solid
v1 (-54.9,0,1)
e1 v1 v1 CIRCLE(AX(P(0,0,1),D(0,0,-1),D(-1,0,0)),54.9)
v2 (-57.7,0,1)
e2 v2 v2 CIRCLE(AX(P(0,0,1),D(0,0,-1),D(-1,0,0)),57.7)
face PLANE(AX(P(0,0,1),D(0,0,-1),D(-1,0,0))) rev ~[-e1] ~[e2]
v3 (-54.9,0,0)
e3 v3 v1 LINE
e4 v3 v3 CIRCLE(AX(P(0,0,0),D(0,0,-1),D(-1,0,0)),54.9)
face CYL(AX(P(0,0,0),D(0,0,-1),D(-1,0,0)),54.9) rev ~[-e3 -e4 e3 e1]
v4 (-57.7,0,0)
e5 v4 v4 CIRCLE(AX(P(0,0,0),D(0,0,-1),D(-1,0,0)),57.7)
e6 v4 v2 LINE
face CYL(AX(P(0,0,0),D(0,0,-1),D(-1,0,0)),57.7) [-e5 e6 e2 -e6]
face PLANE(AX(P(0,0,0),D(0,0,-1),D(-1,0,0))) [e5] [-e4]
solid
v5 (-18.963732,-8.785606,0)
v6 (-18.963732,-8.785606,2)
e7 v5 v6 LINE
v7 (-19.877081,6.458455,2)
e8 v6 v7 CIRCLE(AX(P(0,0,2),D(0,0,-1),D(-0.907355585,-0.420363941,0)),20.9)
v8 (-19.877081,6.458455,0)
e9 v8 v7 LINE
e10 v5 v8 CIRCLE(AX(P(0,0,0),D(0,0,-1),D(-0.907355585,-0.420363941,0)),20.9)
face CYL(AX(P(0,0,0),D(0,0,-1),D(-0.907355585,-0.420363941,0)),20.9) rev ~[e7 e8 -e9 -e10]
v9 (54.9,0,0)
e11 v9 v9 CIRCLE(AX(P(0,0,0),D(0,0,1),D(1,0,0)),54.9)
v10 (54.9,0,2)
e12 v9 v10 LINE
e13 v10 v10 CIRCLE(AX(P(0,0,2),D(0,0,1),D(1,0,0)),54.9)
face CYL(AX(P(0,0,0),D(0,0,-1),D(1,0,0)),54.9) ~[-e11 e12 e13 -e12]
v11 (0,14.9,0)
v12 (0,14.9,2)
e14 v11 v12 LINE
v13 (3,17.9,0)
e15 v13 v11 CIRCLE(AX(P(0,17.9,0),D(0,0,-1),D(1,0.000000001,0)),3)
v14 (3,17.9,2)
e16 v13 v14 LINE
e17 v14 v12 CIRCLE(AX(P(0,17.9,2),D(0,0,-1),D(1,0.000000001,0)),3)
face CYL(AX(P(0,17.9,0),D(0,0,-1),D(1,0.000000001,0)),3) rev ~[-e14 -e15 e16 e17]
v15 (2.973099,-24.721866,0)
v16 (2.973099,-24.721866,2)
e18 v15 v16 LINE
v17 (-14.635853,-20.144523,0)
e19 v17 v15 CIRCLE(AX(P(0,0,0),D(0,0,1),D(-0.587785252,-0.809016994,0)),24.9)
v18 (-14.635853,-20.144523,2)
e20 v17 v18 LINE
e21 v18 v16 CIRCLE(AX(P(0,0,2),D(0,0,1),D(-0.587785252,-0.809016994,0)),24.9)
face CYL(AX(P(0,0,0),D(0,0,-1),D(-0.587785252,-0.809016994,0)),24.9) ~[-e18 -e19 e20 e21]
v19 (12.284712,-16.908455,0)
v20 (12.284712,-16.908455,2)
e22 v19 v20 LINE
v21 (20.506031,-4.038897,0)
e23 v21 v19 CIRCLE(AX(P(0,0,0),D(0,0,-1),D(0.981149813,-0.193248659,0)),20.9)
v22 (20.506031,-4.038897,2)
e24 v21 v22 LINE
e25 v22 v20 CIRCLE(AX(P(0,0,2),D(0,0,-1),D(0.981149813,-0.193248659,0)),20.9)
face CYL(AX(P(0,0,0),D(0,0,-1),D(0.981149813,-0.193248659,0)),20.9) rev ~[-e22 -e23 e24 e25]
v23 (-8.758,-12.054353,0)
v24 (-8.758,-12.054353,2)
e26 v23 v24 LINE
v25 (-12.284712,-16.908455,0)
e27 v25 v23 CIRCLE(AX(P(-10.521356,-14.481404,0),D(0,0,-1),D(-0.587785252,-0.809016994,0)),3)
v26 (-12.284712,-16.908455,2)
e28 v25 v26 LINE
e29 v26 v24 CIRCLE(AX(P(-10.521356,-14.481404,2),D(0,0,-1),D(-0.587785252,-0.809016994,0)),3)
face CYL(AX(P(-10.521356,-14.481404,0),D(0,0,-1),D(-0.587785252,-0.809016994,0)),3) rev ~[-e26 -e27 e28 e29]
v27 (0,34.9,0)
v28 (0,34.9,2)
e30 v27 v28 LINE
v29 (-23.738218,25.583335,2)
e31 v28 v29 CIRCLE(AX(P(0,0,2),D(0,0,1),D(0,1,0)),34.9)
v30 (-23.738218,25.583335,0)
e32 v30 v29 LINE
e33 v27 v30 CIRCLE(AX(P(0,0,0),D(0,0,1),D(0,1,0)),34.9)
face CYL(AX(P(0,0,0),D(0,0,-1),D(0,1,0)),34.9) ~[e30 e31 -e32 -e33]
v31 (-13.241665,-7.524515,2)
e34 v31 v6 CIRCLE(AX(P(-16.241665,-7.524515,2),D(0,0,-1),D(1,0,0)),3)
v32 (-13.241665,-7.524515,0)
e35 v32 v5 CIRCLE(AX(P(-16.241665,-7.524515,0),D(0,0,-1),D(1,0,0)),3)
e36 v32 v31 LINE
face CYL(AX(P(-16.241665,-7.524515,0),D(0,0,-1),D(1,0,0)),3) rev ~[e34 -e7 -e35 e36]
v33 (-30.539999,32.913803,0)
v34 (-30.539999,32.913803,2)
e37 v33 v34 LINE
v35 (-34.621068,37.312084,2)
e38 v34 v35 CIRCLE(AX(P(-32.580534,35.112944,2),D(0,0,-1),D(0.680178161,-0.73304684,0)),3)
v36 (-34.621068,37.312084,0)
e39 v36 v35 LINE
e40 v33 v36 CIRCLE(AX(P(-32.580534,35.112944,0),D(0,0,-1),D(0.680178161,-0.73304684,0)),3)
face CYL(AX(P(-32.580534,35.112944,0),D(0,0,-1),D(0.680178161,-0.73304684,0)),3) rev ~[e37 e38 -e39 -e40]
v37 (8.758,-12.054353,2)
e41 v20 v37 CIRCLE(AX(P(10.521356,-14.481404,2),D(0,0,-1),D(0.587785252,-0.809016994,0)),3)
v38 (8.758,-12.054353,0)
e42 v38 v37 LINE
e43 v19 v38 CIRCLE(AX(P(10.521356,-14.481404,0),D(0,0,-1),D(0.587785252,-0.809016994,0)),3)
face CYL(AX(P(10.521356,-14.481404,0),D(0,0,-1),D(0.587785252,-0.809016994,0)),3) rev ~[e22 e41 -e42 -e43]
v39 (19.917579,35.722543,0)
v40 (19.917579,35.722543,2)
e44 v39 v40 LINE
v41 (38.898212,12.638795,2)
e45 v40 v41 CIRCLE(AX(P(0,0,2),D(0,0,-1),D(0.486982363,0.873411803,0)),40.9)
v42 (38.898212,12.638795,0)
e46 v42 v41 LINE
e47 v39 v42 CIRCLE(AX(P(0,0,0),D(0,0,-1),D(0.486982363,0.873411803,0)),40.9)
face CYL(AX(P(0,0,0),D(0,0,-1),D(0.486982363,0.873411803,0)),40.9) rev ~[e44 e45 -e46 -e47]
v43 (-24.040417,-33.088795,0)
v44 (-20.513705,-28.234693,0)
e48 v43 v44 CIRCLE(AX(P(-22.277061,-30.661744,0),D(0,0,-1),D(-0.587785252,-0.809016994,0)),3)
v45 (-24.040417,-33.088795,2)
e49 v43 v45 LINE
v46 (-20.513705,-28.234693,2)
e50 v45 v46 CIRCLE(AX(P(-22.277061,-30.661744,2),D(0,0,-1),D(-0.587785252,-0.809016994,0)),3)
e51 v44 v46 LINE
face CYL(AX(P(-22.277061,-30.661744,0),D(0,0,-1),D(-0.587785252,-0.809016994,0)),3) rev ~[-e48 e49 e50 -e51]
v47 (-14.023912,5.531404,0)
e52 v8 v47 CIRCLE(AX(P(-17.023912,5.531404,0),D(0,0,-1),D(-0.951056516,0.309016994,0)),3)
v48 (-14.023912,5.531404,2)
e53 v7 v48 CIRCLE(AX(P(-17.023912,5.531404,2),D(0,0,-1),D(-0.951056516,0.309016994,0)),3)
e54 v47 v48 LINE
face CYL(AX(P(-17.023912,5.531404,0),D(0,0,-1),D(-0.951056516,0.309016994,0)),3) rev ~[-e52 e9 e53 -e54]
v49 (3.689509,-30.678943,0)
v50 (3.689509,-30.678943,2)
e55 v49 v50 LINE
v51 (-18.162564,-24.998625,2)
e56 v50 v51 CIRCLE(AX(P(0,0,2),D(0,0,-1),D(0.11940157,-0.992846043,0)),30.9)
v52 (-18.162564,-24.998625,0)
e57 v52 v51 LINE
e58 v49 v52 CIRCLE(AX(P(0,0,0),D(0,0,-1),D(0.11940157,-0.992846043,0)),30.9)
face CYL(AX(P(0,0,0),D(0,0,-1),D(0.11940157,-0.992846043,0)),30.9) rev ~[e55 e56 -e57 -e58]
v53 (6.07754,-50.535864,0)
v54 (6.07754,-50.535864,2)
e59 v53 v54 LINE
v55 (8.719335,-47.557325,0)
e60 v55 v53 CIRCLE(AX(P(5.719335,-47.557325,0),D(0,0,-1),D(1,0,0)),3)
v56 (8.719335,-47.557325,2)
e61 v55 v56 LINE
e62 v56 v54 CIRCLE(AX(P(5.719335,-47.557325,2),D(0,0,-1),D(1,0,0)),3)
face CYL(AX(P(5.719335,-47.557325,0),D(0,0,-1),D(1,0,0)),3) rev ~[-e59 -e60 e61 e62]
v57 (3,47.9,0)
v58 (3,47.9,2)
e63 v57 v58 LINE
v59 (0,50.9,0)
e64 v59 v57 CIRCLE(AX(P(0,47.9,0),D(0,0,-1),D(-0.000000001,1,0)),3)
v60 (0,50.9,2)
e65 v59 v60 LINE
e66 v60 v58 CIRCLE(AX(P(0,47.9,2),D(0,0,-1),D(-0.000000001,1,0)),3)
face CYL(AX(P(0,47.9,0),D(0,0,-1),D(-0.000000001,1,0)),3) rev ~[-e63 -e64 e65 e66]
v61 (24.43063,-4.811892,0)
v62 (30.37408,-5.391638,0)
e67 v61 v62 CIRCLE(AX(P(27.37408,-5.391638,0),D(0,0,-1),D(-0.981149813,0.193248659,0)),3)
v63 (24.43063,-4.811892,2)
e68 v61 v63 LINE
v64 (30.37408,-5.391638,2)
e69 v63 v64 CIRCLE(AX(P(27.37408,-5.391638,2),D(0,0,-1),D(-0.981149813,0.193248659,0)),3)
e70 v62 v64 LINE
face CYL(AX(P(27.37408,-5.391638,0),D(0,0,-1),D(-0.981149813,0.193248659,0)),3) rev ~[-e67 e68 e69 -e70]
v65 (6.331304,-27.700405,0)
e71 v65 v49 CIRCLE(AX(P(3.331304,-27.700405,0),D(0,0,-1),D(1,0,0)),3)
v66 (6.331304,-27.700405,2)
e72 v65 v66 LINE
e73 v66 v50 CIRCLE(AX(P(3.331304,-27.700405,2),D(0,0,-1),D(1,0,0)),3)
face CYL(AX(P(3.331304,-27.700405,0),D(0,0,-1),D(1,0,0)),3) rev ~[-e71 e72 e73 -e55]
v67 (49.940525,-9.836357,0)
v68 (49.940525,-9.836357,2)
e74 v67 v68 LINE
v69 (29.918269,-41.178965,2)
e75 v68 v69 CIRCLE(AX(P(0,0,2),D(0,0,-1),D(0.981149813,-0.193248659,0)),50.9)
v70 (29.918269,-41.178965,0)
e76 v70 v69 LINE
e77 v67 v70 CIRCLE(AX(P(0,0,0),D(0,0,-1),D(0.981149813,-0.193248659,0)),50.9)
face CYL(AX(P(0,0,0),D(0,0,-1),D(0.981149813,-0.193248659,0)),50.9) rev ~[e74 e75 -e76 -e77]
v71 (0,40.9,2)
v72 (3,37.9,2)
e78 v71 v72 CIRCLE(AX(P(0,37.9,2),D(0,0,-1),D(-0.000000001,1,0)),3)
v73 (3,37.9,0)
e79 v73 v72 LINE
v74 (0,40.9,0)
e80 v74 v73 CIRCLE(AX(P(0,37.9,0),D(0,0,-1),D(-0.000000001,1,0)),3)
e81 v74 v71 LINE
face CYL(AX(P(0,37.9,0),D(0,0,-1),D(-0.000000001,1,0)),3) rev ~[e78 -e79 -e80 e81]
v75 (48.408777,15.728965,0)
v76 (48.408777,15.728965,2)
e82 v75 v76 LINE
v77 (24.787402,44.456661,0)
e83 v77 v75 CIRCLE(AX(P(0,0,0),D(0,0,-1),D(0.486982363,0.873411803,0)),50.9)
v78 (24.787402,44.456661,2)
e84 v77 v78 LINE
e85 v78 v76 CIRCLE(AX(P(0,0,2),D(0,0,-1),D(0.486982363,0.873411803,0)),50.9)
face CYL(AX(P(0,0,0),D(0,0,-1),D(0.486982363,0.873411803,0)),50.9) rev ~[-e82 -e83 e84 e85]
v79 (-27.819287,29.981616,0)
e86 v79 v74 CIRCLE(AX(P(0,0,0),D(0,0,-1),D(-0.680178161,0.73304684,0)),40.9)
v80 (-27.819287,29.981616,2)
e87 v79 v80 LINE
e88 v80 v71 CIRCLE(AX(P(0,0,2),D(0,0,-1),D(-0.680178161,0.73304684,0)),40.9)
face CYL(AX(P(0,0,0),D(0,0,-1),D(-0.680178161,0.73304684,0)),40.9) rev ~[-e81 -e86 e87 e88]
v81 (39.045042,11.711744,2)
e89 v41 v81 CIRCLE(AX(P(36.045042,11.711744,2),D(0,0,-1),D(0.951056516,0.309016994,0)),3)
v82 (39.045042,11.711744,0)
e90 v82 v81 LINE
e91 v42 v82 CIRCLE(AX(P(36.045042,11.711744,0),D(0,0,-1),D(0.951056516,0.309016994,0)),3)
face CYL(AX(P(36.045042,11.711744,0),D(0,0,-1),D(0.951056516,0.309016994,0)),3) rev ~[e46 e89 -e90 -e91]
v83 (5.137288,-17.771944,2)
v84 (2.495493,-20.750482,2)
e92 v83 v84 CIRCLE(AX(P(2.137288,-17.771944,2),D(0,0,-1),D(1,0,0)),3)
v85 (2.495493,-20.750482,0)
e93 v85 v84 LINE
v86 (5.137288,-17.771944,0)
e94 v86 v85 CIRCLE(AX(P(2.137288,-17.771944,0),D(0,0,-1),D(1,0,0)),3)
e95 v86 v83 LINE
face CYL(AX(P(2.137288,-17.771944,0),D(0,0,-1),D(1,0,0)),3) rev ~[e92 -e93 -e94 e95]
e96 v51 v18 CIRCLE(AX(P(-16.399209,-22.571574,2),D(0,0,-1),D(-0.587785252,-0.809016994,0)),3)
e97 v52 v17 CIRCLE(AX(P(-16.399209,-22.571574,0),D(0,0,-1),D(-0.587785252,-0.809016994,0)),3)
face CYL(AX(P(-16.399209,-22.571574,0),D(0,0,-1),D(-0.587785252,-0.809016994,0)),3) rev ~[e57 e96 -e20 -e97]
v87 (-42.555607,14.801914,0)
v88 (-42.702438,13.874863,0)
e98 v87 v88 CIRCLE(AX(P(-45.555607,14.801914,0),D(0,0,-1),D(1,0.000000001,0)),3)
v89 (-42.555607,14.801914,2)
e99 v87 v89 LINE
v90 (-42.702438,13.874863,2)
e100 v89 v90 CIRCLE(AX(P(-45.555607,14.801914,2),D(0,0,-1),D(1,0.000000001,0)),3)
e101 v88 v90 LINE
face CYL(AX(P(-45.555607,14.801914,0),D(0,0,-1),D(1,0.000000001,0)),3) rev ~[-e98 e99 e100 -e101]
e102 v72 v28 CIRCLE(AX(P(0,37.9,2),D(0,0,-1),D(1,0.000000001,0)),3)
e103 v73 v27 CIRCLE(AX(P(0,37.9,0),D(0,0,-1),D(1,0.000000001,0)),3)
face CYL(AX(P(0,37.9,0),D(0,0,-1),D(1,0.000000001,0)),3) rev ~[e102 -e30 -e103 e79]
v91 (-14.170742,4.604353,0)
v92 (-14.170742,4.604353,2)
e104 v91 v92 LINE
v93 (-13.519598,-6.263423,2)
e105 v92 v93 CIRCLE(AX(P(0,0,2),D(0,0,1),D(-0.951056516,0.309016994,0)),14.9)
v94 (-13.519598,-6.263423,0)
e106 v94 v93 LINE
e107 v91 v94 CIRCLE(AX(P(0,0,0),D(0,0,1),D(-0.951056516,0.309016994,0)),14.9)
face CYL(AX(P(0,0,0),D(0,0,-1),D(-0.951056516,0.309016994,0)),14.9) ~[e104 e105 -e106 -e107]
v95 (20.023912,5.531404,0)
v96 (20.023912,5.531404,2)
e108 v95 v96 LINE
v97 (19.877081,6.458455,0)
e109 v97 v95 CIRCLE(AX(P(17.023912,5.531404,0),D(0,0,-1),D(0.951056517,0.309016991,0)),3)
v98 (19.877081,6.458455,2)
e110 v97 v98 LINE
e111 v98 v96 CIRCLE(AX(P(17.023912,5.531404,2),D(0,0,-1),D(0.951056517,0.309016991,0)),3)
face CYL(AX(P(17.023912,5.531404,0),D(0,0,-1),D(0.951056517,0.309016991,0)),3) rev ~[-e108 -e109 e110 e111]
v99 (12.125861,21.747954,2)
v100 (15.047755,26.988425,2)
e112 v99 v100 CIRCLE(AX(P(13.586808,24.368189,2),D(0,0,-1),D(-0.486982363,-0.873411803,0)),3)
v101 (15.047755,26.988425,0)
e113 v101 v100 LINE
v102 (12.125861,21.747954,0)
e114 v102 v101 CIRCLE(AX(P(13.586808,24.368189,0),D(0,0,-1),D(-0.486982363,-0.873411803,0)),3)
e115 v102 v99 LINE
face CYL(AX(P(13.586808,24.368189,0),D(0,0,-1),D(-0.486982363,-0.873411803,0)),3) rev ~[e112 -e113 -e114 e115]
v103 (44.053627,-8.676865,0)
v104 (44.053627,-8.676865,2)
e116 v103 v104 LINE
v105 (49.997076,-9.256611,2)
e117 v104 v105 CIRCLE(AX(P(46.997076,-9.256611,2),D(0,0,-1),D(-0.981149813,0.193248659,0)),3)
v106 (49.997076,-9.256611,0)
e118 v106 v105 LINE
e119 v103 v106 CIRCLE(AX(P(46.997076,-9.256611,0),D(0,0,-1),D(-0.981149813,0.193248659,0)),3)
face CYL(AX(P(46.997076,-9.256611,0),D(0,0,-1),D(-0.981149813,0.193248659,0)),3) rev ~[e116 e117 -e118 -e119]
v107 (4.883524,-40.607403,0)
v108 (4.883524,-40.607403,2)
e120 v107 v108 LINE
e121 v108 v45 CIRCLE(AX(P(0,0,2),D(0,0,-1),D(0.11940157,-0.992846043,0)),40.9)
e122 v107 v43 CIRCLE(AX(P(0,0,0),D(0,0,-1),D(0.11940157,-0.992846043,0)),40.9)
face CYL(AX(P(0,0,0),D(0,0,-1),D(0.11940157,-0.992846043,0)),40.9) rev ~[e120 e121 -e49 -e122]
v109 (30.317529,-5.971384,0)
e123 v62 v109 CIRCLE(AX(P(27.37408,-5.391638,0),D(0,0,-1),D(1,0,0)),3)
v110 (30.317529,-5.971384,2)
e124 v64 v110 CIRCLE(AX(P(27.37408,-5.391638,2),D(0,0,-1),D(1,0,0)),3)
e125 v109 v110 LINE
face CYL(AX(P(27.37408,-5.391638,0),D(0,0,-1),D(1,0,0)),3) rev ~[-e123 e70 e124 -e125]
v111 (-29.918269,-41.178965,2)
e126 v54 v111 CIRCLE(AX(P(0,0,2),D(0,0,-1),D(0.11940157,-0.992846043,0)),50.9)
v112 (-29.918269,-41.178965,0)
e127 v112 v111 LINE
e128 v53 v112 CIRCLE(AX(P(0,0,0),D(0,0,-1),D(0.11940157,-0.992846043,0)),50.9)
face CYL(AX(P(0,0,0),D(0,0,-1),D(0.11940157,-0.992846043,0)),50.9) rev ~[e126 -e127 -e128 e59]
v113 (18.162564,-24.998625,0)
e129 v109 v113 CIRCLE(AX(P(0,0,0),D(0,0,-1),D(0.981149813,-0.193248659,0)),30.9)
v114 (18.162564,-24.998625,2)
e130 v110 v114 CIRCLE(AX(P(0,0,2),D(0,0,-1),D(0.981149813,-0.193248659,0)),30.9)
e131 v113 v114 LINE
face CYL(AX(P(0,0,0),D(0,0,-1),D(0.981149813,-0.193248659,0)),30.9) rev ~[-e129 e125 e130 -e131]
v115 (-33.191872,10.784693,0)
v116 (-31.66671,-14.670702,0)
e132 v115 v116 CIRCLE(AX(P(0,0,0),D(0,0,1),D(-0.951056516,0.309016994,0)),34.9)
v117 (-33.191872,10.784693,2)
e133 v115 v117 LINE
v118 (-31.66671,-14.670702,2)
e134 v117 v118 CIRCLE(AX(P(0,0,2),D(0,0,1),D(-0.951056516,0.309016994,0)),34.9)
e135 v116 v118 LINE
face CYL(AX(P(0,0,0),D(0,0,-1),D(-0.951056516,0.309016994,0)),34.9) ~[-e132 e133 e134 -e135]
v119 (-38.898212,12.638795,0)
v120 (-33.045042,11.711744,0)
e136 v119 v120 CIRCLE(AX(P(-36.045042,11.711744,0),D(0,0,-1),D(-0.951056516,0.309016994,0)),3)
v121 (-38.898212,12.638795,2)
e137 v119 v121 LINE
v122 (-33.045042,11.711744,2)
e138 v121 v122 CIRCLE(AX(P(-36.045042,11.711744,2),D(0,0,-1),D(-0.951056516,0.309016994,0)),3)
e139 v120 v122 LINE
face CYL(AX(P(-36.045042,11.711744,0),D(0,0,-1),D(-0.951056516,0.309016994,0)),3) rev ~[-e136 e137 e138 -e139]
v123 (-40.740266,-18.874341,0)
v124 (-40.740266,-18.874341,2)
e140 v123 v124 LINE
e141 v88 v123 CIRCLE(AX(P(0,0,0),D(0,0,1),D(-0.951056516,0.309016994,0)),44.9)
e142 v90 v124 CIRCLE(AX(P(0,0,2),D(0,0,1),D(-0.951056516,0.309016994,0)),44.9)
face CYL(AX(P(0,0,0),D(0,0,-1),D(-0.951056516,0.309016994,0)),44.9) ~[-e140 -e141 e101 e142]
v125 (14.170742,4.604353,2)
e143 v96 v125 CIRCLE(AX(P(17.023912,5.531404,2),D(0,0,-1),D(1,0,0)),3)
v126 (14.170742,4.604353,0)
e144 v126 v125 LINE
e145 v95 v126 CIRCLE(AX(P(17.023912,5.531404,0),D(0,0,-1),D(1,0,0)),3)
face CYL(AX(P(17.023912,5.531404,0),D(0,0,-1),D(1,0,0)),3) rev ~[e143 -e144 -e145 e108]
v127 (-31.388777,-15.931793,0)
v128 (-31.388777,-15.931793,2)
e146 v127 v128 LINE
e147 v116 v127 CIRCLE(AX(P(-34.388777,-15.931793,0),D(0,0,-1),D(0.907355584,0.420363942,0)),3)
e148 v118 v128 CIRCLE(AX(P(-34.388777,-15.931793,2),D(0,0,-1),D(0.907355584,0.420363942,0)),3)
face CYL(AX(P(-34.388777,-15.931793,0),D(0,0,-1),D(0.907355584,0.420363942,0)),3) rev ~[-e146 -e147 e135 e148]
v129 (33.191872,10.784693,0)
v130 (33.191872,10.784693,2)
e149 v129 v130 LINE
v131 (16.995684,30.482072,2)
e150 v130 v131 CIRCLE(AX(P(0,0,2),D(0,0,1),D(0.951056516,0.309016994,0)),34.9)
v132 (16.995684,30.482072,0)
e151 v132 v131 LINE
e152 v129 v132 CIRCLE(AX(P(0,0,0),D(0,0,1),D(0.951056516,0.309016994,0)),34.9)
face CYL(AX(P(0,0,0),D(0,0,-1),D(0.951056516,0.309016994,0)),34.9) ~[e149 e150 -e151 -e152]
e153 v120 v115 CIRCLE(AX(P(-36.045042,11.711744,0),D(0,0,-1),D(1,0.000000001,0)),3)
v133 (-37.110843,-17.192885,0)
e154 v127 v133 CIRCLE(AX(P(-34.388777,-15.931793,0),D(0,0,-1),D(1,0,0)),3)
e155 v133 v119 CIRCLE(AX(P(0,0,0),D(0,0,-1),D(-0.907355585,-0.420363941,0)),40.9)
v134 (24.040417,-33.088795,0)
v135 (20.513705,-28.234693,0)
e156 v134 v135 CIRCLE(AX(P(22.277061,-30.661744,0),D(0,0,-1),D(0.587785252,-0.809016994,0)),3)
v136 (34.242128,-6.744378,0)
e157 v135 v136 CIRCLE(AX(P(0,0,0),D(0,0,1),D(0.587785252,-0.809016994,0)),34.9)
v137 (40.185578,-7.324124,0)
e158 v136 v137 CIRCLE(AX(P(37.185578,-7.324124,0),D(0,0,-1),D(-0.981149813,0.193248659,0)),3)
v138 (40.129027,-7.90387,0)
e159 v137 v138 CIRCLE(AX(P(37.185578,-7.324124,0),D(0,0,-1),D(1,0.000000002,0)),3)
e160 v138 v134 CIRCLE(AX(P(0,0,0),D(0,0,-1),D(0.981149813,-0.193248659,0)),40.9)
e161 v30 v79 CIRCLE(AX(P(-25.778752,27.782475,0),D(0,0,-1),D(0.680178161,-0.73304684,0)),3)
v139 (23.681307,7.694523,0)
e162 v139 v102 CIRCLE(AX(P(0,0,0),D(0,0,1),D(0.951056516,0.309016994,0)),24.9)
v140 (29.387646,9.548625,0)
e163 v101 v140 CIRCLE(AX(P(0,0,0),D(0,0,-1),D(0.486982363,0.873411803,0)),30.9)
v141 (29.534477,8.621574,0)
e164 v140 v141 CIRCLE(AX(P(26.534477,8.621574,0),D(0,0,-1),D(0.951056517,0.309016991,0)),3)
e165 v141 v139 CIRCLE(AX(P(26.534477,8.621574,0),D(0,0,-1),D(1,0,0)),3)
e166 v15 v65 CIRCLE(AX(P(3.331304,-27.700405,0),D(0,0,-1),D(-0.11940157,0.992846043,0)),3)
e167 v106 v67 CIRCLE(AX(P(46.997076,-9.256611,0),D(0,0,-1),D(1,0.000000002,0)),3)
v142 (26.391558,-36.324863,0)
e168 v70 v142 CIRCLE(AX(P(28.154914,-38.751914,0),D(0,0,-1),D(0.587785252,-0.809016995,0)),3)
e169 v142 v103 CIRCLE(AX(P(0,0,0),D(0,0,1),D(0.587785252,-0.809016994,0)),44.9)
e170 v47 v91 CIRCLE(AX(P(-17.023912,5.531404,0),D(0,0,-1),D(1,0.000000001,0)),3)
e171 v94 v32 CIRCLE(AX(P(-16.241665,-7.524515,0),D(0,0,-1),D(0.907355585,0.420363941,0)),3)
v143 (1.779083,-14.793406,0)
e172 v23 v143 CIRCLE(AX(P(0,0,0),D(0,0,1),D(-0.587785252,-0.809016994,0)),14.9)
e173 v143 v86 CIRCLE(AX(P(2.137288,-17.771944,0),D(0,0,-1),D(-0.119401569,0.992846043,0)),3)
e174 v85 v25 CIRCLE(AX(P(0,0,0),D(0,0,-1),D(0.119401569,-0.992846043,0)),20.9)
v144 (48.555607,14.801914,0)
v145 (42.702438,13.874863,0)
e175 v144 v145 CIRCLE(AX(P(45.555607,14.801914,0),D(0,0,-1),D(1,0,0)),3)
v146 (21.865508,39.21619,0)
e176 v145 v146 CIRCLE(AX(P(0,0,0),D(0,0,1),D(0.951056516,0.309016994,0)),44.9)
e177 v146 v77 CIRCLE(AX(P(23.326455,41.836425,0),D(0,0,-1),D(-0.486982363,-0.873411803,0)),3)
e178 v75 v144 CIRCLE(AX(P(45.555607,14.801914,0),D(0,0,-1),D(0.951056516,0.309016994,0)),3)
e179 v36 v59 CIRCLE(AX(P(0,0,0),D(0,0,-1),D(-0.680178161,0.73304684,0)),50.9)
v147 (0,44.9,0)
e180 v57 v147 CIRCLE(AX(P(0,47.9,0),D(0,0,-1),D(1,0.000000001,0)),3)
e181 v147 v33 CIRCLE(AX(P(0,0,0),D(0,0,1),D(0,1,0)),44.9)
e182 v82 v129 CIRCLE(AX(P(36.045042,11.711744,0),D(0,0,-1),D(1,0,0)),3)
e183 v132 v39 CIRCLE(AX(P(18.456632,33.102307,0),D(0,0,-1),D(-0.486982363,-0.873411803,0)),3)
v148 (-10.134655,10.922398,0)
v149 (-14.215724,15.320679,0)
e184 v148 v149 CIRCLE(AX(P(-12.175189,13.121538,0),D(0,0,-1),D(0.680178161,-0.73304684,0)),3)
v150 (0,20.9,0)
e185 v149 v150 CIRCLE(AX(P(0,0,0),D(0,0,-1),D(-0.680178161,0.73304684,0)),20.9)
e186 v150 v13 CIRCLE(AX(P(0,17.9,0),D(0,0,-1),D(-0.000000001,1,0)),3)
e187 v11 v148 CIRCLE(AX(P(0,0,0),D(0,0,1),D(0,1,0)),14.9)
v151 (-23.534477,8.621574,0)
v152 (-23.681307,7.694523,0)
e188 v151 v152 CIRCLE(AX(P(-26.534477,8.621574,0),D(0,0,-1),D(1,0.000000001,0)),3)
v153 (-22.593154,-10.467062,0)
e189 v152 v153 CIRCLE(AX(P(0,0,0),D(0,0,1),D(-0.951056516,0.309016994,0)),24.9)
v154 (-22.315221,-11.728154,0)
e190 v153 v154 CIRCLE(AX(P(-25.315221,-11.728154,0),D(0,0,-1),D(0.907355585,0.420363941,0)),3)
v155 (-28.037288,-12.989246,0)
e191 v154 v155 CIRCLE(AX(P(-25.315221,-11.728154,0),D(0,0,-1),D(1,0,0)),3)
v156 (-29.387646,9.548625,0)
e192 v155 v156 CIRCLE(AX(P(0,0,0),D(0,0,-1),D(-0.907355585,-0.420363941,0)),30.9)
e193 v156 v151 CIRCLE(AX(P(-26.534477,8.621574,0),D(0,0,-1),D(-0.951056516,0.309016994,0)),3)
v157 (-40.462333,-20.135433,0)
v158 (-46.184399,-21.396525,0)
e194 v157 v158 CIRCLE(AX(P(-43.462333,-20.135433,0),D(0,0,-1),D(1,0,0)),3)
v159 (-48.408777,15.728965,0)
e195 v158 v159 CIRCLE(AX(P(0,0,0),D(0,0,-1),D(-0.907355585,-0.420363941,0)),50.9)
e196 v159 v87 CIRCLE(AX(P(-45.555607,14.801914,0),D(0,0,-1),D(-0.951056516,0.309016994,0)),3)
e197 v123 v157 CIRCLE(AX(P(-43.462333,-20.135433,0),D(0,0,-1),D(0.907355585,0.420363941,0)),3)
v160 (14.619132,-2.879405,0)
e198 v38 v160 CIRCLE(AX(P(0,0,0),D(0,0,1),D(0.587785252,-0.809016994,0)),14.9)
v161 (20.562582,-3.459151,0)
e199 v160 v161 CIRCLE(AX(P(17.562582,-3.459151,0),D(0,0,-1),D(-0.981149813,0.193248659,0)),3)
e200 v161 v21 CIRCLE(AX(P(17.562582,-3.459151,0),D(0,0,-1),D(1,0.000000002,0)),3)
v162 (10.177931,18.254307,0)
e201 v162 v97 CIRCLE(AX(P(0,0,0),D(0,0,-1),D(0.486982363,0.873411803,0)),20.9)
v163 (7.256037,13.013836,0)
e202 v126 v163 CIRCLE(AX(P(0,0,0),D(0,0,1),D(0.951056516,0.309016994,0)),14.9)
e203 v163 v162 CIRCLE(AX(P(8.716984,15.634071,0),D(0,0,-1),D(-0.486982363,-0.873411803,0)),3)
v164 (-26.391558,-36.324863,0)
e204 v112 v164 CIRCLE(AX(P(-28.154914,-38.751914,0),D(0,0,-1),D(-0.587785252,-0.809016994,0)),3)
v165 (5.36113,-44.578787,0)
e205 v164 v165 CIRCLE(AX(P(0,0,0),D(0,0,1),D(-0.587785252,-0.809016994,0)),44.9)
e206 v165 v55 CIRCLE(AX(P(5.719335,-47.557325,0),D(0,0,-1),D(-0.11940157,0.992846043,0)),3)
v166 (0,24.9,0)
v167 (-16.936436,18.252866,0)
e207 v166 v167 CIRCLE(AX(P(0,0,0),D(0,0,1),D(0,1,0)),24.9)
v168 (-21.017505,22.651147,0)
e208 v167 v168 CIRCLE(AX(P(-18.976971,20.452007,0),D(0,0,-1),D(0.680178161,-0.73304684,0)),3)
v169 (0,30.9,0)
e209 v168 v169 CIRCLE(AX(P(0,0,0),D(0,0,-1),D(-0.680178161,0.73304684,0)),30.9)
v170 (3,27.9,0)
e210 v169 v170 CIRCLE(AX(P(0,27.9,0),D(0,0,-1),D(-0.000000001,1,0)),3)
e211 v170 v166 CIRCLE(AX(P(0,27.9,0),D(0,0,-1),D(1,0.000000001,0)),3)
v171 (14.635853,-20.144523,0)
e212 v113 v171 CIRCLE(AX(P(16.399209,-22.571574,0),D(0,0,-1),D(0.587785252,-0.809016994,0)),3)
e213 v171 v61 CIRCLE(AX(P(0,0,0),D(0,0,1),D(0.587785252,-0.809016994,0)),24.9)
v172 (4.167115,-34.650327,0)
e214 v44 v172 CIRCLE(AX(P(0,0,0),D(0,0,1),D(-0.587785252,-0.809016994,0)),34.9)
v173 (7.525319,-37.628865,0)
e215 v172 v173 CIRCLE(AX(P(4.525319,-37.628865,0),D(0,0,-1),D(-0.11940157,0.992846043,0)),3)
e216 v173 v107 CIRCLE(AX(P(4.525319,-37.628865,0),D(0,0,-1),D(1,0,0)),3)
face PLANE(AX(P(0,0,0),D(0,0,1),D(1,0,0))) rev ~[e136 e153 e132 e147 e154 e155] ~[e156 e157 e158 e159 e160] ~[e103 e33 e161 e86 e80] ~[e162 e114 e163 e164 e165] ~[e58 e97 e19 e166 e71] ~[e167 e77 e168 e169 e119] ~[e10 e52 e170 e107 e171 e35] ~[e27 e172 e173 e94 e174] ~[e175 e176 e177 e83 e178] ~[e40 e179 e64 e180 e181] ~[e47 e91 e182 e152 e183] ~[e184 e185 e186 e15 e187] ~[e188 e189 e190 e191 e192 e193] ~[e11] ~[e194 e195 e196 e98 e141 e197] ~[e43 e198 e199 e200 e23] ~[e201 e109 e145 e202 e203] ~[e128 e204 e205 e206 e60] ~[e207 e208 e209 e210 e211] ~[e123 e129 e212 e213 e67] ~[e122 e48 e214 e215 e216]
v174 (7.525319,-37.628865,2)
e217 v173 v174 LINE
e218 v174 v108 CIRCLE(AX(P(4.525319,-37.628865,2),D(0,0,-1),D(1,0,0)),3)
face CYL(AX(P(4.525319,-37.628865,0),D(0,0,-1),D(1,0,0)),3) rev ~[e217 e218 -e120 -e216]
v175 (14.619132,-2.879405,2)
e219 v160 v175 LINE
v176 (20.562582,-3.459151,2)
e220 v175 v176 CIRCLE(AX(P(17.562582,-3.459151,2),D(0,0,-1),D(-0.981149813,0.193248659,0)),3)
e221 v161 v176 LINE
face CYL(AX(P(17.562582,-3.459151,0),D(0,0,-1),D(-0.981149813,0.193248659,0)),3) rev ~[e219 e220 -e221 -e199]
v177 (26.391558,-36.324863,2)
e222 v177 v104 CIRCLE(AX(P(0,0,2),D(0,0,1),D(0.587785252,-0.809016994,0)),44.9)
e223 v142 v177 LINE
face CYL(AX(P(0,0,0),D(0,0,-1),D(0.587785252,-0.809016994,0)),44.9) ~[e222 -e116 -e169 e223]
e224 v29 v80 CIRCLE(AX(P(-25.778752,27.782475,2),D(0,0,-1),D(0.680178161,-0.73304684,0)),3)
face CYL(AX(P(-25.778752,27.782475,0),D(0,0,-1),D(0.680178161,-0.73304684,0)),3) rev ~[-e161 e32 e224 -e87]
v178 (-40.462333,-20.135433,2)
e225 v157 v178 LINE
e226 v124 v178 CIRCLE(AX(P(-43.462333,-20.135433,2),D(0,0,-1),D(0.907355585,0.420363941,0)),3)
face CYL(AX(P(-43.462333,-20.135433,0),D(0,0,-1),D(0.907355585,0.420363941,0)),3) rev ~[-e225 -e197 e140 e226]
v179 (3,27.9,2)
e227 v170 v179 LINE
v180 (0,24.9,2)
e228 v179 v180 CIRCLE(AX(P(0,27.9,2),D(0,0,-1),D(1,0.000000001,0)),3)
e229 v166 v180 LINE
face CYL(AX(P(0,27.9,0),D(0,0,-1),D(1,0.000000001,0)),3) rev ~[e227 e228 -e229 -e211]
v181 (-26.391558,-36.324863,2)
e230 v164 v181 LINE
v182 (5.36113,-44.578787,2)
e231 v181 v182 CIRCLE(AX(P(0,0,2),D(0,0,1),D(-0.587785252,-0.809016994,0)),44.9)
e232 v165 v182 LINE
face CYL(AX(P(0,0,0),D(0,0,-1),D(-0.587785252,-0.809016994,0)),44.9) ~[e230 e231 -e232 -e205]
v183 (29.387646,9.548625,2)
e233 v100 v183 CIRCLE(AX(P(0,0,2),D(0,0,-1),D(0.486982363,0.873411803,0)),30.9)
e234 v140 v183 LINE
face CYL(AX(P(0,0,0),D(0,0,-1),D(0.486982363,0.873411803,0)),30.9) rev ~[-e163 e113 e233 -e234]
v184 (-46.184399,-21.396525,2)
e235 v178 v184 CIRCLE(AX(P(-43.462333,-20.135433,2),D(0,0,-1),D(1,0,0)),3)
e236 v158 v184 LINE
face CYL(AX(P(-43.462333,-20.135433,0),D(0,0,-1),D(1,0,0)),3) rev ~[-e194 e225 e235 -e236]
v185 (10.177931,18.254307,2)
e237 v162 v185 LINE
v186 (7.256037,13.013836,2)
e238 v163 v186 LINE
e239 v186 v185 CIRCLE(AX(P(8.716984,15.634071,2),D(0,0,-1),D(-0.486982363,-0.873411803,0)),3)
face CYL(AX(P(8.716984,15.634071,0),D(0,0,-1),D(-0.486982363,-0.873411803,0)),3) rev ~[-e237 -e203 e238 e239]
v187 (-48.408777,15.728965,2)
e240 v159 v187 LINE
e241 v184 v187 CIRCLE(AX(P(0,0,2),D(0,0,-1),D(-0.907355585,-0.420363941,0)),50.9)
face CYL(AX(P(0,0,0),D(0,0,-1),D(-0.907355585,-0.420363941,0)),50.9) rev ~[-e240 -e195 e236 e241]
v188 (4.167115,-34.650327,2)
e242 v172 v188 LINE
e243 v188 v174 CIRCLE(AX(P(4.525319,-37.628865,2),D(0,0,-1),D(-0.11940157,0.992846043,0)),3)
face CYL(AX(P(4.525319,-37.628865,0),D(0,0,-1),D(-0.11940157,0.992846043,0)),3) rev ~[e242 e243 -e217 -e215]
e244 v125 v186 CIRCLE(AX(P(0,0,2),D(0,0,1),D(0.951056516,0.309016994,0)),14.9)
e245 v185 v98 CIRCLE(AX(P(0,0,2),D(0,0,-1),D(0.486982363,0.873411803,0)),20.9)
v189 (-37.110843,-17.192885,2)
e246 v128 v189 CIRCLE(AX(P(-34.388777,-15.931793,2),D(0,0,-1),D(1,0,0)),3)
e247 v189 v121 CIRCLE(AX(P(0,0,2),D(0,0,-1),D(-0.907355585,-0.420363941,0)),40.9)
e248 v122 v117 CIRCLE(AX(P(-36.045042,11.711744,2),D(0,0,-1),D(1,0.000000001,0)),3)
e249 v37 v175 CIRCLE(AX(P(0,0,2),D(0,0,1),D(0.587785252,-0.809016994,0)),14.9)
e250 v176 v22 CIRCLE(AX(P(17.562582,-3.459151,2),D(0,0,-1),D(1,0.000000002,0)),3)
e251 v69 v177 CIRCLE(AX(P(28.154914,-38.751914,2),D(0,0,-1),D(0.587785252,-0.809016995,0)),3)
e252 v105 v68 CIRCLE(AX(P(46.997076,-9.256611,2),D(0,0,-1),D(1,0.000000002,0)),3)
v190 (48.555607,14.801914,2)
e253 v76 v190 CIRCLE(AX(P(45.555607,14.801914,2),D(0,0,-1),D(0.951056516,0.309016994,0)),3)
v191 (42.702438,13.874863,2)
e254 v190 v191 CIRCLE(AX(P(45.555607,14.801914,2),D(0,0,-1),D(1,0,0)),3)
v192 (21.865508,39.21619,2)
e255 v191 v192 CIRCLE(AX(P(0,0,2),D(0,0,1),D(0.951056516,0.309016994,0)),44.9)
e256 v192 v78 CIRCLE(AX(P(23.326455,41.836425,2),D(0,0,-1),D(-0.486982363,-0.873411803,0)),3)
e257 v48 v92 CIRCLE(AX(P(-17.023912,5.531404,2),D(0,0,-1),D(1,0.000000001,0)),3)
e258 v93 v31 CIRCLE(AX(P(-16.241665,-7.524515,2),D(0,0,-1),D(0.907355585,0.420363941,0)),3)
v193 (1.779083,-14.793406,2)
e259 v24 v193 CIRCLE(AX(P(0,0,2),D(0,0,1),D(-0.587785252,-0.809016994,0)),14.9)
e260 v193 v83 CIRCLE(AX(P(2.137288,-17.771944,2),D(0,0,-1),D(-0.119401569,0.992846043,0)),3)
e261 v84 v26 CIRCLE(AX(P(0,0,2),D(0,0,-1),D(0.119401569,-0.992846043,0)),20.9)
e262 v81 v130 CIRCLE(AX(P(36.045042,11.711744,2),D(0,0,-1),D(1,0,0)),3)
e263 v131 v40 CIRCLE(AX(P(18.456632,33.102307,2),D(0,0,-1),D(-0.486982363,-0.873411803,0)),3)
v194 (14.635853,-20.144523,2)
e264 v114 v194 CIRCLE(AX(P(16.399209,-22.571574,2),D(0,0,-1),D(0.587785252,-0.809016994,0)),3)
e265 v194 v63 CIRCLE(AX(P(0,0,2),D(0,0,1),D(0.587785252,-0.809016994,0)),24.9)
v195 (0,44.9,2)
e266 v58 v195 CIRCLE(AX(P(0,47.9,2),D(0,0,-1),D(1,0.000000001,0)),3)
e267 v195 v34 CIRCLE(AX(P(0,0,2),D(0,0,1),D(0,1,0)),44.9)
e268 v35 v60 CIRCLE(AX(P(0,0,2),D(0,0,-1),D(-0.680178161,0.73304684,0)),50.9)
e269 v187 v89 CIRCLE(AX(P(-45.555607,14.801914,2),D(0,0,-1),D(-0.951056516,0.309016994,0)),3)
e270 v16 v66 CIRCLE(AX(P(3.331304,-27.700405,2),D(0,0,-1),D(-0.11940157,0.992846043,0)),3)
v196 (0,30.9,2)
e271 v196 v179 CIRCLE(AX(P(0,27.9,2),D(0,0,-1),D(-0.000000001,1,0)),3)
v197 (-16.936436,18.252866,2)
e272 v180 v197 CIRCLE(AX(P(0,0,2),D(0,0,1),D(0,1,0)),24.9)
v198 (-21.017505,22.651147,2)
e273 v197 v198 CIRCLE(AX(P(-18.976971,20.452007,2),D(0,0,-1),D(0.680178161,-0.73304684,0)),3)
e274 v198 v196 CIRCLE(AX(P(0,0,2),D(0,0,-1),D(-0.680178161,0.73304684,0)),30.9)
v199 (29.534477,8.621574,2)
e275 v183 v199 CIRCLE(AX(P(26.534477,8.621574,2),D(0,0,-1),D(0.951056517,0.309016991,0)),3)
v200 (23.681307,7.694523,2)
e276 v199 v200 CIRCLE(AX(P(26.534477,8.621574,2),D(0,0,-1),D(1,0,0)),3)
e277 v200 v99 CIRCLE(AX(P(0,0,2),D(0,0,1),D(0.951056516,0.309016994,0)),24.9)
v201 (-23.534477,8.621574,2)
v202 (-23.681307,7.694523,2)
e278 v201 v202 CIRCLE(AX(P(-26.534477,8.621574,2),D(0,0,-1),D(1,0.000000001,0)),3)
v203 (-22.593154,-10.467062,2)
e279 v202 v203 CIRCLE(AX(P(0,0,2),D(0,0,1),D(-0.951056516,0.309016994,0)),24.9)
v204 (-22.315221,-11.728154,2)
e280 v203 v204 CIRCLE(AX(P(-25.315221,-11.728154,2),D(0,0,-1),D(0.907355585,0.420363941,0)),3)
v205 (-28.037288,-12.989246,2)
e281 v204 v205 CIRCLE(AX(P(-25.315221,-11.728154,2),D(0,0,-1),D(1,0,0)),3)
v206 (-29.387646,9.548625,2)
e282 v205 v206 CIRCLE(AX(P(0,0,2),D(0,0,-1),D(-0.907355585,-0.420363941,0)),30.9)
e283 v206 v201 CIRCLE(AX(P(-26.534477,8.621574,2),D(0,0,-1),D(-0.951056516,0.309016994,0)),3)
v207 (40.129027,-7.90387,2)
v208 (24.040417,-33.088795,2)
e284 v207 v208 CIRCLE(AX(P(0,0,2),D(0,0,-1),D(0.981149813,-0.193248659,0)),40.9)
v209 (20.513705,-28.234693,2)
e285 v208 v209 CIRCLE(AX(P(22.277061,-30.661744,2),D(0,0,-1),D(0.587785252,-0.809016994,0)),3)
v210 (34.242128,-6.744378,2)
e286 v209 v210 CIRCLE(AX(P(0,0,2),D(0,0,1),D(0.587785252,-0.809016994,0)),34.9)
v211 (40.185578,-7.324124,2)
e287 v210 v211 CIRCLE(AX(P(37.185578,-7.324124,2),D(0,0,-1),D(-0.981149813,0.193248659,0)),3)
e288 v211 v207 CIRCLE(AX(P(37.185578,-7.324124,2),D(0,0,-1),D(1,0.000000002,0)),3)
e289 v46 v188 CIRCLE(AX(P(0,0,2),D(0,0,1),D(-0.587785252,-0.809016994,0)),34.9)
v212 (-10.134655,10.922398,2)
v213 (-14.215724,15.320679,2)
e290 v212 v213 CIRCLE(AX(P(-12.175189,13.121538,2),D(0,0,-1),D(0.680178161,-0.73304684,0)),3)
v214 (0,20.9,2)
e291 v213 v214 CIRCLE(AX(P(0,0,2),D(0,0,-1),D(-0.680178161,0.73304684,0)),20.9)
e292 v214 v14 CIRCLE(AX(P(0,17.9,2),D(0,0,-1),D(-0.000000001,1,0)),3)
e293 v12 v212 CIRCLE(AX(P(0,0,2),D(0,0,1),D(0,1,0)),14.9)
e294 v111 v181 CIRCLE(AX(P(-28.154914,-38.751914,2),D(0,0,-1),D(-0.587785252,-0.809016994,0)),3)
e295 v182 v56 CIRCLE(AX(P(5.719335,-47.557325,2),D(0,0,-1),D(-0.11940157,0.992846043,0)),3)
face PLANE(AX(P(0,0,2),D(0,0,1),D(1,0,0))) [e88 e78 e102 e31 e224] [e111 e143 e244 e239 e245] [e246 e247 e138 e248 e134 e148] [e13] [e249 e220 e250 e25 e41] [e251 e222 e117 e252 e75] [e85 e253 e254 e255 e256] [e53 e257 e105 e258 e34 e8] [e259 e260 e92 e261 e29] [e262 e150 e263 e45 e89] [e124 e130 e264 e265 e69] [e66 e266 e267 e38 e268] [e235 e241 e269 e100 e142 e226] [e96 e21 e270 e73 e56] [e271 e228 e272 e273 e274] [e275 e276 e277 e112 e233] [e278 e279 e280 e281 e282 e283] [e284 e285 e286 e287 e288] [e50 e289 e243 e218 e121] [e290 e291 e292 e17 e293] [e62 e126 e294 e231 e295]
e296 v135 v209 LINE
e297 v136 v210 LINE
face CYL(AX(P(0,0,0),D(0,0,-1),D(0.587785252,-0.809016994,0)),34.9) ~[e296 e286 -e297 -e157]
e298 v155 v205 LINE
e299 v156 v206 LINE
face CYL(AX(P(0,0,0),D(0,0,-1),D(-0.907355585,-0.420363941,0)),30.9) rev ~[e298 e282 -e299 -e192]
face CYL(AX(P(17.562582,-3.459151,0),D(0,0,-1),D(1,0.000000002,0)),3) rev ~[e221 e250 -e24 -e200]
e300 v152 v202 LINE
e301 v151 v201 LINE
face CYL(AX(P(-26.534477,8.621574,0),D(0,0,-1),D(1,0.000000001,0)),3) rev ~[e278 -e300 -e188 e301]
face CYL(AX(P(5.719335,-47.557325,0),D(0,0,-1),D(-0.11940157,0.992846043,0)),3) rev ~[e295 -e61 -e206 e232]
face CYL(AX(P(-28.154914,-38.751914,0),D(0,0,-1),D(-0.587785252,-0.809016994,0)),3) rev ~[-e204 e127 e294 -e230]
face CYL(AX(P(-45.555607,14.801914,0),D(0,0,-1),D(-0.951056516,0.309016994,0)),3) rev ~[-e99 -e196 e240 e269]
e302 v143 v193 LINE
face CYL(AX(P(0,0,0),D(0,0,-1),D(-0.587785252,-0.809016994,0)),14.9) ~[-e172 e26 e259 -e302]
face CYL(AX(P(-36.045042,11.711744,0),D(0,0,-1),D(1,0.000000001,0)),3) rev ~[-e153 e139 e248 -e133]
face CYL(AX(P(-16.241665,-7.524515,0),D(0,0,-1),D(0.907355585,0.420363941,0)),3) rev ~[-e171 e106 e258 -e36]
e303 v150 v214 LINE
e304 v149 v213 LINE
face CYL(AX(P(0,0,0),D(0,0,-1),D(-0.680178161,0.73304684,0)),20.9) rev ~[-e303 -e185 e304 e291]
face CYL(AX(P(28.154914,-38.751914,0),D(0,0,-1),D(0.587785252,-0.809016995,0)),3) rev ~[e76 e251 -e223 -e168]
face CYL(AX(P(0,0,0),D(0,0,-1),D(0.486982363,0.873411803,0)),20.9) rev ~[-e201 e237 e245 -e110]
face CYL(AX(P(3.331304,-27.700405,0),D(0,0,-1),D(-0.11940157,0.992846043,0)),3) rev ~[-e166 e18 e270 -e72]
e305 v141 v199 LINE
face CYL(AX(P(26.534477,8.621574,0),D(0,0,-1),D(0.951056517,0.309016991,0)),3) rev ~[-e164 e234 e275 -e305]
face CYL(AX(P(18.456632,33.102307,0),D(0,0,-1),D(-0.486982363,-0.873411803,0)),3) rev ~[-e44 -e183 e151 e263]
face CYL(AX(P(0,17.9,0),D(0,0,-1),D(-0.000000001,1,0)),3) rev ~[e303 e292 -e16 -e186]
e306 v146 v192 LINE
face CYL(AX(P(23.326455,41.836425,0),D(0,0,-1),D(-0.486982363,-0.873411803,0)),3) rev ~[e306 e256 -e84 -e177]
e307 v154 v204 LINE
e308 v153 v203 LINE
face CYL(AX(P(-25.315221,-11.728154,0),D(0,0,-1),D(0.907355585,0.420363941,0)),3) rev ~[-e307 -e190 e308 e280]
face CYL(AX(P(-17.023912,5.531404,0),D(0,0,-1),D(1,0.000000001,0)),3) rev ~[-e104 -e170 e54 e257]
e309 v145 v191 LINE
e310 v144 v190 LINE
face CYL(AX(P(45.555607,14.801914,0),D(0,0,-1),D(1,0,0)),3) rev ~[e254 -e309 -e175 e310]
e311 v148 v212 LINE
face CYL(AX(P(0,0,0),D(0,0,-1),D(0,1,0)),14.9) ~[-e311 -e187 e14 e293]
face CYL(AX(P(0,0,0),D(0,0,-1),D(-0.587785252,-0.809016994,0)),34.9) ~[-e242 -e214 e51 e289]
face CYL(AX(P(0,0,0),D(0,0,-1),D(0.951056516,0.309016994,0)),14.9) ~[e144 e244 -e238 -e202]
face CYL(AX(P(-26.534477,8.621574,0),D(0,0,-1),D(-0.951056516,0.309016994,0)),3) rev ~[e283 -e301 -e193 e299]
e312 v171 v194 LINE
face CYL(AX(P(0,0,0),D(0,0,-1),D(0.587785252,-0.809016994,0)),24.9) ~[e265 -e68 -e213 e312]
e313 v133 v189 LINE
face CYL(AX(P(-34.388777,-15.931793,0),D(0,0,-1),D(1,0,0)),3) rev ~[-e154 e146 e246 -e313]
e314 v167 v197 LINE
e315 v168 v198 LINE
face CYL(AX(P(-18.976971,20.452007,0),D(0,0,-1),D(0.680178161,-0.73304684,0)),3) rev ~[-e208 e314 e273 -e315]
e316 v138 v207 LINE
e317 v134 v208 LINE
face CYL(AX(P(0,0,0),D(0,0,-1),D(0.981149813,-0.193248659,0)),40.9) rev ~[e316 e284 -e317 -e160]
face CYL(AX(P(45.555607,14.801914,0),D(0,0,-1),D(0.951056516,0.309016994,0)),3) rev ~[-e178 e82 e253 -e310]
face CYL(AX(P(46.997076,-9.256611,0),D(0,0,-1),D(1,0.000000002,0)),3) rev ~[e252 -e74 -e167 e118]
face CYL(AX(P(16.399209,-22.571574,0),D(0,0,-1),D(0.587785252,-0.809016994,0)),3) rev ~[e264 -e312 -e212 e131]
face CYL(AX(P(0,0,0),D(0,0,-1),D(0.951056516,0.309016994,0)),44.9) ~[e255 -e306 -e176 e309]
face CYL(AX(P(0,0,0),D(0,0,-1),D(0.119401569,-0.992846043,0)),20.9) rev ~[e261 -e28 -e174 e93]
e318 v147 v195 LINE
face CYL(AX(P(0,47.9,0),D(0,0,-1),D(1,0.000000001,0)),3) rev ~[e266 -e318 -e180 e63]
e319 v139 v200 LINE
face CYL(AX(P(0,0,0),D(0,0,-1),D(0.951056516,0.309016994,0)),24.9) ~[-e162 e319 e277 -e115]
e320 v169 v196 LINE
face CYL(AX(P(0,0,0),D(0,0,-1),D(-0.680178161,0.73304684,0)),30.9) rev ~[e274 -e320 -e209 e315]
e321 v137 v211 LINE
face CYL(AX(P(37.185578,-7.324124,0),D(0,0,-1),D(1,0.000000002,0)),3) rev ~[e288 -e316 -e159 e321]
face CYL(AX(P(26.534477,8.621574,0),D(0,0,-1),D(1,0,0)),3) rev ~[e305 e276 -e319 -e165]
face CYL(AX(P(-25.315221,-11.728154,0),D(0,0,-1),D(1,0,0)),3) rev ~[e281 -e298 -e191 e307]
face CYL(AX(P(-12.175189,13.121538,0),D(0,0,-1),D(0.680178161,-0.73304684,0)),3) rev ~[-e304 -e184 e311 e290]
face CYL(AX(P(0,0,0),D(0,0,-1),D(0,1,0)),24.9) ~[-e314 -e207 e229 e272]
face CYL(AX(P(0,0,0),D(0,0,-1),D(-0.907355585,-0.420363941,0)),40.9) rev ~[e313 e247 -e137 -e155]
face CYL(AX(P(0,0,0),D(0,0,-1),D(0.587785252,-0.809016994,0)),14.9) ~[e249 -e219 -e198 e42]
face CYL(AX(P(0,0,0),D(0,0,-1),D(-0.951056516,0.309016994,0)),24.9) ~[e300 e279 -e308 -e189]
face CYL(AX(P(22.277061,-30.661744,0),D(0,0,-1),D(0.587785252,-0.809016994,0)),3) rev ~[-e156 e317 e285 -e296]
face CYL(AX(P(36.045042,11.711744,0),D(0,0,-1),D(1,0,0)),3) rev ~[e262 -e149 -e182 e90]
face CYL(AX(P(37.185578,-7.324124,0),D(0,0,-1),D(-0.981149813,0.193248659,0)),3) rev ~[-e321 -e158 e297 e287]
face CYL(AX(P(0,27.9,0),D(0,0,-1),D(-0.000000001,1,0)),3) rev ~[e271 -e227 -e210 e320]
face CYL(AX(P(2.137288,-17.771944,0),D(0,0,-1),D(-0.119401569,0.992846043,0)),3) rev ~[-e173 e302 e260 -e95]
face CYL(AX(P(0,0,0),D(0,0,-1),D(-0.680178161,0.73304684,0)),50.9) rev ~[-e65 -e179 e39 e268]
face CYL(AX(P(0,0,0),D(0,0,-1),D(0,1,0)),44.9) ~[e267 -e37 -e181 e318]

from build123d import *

# Parameters (mm, degrees)
ESQUISSE1_R        = 54.9
BOSS_EXTRU_1_DEPTH = 2
ESQUISSE3_R        = 57.7
ESQUISSE3_R_2      = 54.9
BOSS_EXTRU_2_DEPTH = 1


with BuildPart() as part:
    # Esquisse1 → Boss.-Extru.1 (new body)
    with BuildSketch(Plane.XY):
        Circle(ESQUISSE1_R)
        with BuildLine():
            ThreePointArc((6.077539891, -50.535863591), (-12.805584053, -49.262836064), (-29.918269342, -41.178965014))
            ThreePointArc((-29.918269342, -41.178965014), (-30.581964568, -36.988558274), (-26.391557828, -36.324863047))
            ThreePointArc((-26.391557828, -36.324863047), (-11.29608495, -43.45582199), (5.361130473, -44.578787333))
            ThreePointArc((5.361130473, -44.578787333), (7.709986567, -45.312930875), (8.719335182, -47.557325462))
            ThreePointArc((8.719335182, -47.557325462), (7.963729769, -49.547976847), (6.077539891, -50.535863591))
        make_face(mode=Mode.SUBTRACT)
        with BuildLine():
            ThreePointArc((4.883524195, -40.60740316), (-10.289752215, -39.584479273), (-24.040416819, -33.08879507))
            ThreePointArc((-24.040416819, -33.08879507), (-24.704112045, -28.89838833), (-20.513705305, -28.234693104))
            ThreePointArc((-20.513705305, -28.234693104), (-8.780253113, -33.777465199), (4.167114778, -34.650326902))
            ThreePointArc((4.167114778, -34.650326902), (6.515970872, -35.384470444), (7.525319487, -37.628865031))
            ThreePointArc((7.525319487, -37.628865031), (6.769714074, -39.619516416), (4.883524195, -40.60740316))
        make_face(mode=Mode.SUBTRACT)
        with BuildLine():
            ThreePointArc((-46.184399264, -21.396524591), (-50.808884345, -3.044219377), (-48.408776679, 15.728965014))
            ThreePointArc((-48.408776679, 15.728965014), (-45.086303735, 17.764979052), (-42.555607131, 14.801914031))
            ThreePointArc((-42.555607131, 14.801914031), (-42.592542109, 14.332610635), (-42.702437582, 13.874863047))
            ThreePointArc((-42.702437582, 13.874863047), (-44.819624894, -2.685372299), (-40.740265756, -18.874340946))
            ThreePointArc((-40.740265756, -18.874340946), (-40.532639671, -19.489754932), (-40.46233251, -20.135432769))
            ThreePointArc((-40.46233251, -20.135432769), (-42.816654674, -23.065125608), (-46.184399264, -21.396524591))
        make_face(mode=Mode.SUBTRACT)
        with BuildLine():
            ThreePointArc((-37.110843417, -17.192885182), (-40.82678526, -2.446140914), (-38.898211516, 12.63879507))
            ThreePointArc((-38.898211516, 12.63879507), (-35.575738572, 14.674809109), (-33.045041968, 11.711744087))
            ThreePointArc((-33.045041968, 11.711744087), (-33.081976946, 11.242440692), (-33.191872419, 10.784693104))
            ThreePointArc((-33.191872419, 10.784693104), (-34.837525808, -2.087293836), (-31.666709908, -14.670701537))
            ThreePointArc((-31.666709908, -14.670701537), (-31.459083823, -15.286115523), (-31.388776663, -15.93179336))
            ThreePointArc((-31.388776663, -15.93179336), (-33.743098826, -18.861486199), (-37.110843417, -17.192885182))
        make_face(mode=Mode.SUBTRACT)
        with BuildLine():
            ThreePointArc((3.6895085, -30.67894273), (-7.773920378, -29.906122483), (-18.162564296, -24.998625126))
            ThreePointArc((-18.162564296, -24.998625126), (-18.826259522, -20.808218386), (-14.635852782, -20.14452316))
            ThreePointArc((-14.635852782, -20.14452316), (-6.264421275, -24.099108409), (2.973099082, -24.721866472))
            ThreePointArc((2.973099082, -24.721866472), (5.321955176, -25.456010014), (6.331303791, -27.700404601))
            ThreePointArc((6.331303791, -27.700404601), (5.575698378, -29.691055986), (3.6895085, -30.67894273))
        make_face(mode=Mode.SUBTRACT)
        with BuildLine():
            ThreePointArc((2.495492804, -20.7504823), (-5.25808854, -20.227765692), (-12.284711773, -16.908455182))
            ThreePointArc((-12.284711773, -16.908455182), (-12.948406999, -12.718048442), (-8.758000259, -12.054353216))
            ThreePointArc((-8.758000259, -12.054353216), (-3.748589438, -14.420751618), (1.779083387, -14.793406041))
            ThreePointArc((1.779083387, -14.793406041), (4.12793948, -15.527549583), (5.137288095, -17.77194417))
            ThreePointArc((5.137288095, -17.77194417), (4.381682682, -19.762595556), (2.495492804, -20.7504823))
        make_face(mode=Mode.SUBTRACT)
        with BuildLine():
            ThreePointArc((-28.037287569, -12.989245773), (-30.844686174, -1.848062451), (-29.387646354, 9.548625126))
            ThreePointArc((-29.387646354, 9.548625126), (-26.06517341, 11.584639165), (-23.534476805, 8.621574143))
            ThreePointArc((-23.534476805, 8.621574143), (-23.571411783, 8.152270748), (-23.681307256, 7.69452316))
            ThreePointArc((-23.681307256, 7.69452316), (-24.855426723, -1.489215373), (-22.593154061, -10.467062128))
            ThreePointArc((-22.593154061, -10.467062128), (-22.385527976, -11.082476114), (-22.315220815, -11.728153951))
            ThreePointArc((-22.315220815, -11.728153951), (-24.669542978, -14.65784679), (-28.037287569, -12.989245773))
        make_face(mode=Mode.SUBTRACT)
        with BuildLine():
            ThreePointArc((-18.963731722, -8.785606365), (-20.862587089, -1.249983988), (-19.877081191, 6.458455182))
            ThreePointArc((-19.877081191, 6.458455182), (-16.554608247, 8.494469221), (-14.023911642, 5.531404199))
            ThreePointArc((-14.023911642, 5.531404199), (-14.06084662, 5.062100804), (-14.170742093, 4.604353216))
            ThreePointArc((-14.170742093, 4.604353216), (-14.873327637, -0.89113691), (-13.519598213, -6.263422719))
            ThreePointArc((-13.519598213, -6.263422719), (-13.311972128, -6.878836705), (-13.241664967, -7.524514542))
            ThreePointArc((-13.241664967, -7.524514542), (-15.595987131, -10.454207381), (-18.963731722, -8.785606365))
        make_face(mode=Mode.SUBTRACT)
        with BuildLine():
            ThreePointArc((30.317529224, -5.971383573), (26.040139155, -16.634937716), (18.162564296, -24.998625126))
            ThreePointArc((18.162564296, -24.998625126), (13.972157556, -24.3349299), (14.635852782, -20.14452316))
            ThreePointArc((14.635852782, -20.14452316), (20.983801455, -13.404852722), (24.430630345, -4.811891617))
            ThreePointArc((24.430630345, -4.811891617), (27.665328546, -2.405808705), (30.374079784, -5.391637595))
            ThreePointArc((30.374079784, -5.391637595), (30.359908674, -5.682886356), (30.317529224, -5.971383573))
        make_face(mode=Mode.SUBTRACT)
        with BuildLine():
            ThreePointArc((20.506031093, -4.03889698), (17.612909655, -11.251462727), (12.284711773, -16.908455182))
            ThreePointArc((12.284711773, -16.908455182), (8.094305033, -16.244759956), (8.758000259, -12.054353216))
            ThreePointArc((8.758000259, -12.054353216), (12.556571955, -8.021377733), (14.619132215, -2.879405024))
            ThreePointArc((14.619132215, -2.879405024), (17.853830416, -0.473322112), (20.562581654, -3.459151002))
            ThreePointArc((20.562581654, -3.459151002), (20.548410544, -3.750399763), (20.506031093, -4.03889698))
        make_face(mode=Mode.SUBTRACT)
        with BuildLine():
            ThreePointArc((49.940525485, -9.836356759), (42.894598155, -27.401887693), (29.918269342, -41.178965014))
            ThreePointArc((29.918269342, -41.178965014), (25.727862602, -40.515269787), (26.391557828, -36.324863047))
            ThreePointArc((26.391557828, -36.324863047), (37.838260455, -24.1718027), (44.053626607, -8.676864803))
            ThreePointArc((44.053626607, -8.676864803), (47.288324808, -6.270781891), (49.997076046, -9.256610781))
            ThreePointArc((49.997076046, -9.256610781), (49.982904936, -9.547859543), (49.940525485, -9.836356759))
        make_face(mode=Mode.SUBTRACT)
        with BuildLine():
            ThreePointArc((40.129027354, -7.903870166), (34.467368655, -22.018412704), (24.040416819, -33.08879507))
            ThreePointArc((24.040416819, -33.08879507), (19.850010079, -32.425099844), (20.513705305, -28.234693104))
            ThreePointArc((20.513705305, -28.234693104), (29.411030955, -18.788327711), (34.242128476, -6.74437821))
            ThreePointArc((34.242128476, -6.74437821), (37.476826677, -4.338295298), (40.185577915, -7.324124188))
            ThreePointArc((40.185577915, -7.324124188), (40.171406805, -7.615372949), (40.129027354, -7.903870166))
        make_face(mode=Mode.SUBTRACT)
        with BuildLine():
            ThreePointArc((-14.215723561, 15.320678955), (-7.635699374, 19.455233103), (0, 20.9))
            ThreePointArc((0, 20.9), (2.121320344, 20.021320344), (3, 17.9))
            ThreePointArc((3, 17.9), (2.121320344, 15.778679656), (0, 14.9))
            ThreePointArc((0, 14.9), (-5.443632568, 13.869998719), (-10.134654596, 10.922397915))
            ThreePointArc((-10.134654596, 10.922397915), (-14.374329599, 11.081003952), (-14.215723561, 15.320678955))
        make_face(mode=Mode.SUBTRACT)
        with BuildLine():
            ThreePointArc((-21.01750517, 22.651147354), (-11.28914405, 28.763957075), (0, 30.9))
            ThreePointArc((0, 30.9), (2.121320344, 30.021320344), (3, 27.9))
            ThreePointArc((3, 27.9), (2.121320344, 25.778679656), (0, 24.9))
            ThreePointArc((0, 24.9), (-9.097077244, 23.178722692), (-16.936436205, 18.252866314))
            ThreePointArc((-16.936436205, 18.252866314), (-21.176111207, 18.411472352), (-21.01750517, 22.651147354))
        make_face(mode=Mode.SUBTRACT)
        with BuildLine():
            ThreePointArc((-27.819286778, 29.981615753), (-14.942588727, 38.072681048), (0, 40.9))
            ThreePointArc((0, 40.9), (2.121320344, 40.021320344), (3, 37.9))
            ThreePointArc((3, 37.9), (2.121320344, 35.778679656), (0, 34.9))
            ThreePointArc((0, 34.9), (-12.750521921, 32.487446664), (-23.738217813, 25.583334713))
            ThreePointArc((-23.738217813, 25.583334713), (-27.977892815, 25.741940751), (-27.819286778, 29.981615753))
        make_face(mode=Mode.SUBTRACT)
        with BuildLine():
            ThreePointArc((-34.621068386, 37.312084152), (-18.596033403, 47.38140502), (0, 50.9))
            ThreePointArc((0, 50.9), (2.121320344, 50.021320344), (3, 47.9))
            ThreePointArc((3, 47.9), (2.121320344, 45.778679656), (0, 44.9))
            ThreePointArc((0, 44.9), (-16.403966597, 41.796170637), (-30.539999421, 32.913803113))
            ThreePointArc((-30.539999421, 32.913803113), (-34.779674424, 33.07240915), (-34.621068386, 37.312084152))
        make_face(mode=Mode.SUBTRACT)
        with BuildLine():
            ThreePointArc((10.177931386, 18.254306689), (16.143465348, 13.273979304), (19.877081191, 6.458455182))
            ThreePointArc((19.877081191, 6.458455182), (19.986976663, 6.000707594), (20.023911642, 5.531404199))
            ThreePointArc((20.023911642, 5.531404199), (17.493215037, 2.568339178), (14.170742093, 4.604353216))
            ThreePointArc((14.170742093, 4.604353216), (11.508977688, 9.463267542), (7.256037208, 13.013835869))
            ThreePointArc((7.256037208, 13.013835869), (6.096748887, 17.095018368), (10.177931386, 18.254306689))
        make_face(mode=Mode.SUBTRACT)
        with BuildLine():
            ThreePointArc((15.047755016, 26.988424722), (23.867611447, 19.625165574), (29.387646354, 9.548625126))
            ThreePointArc((29.387646354, 9.548625126), (29.497541826, 9.090877538), (29.534476805, 8.621574143))
            ThreePointArc((29.534476805, 8.621574143), (27.0037802, 5.658509121), (23.681307256, 7.69452316))
            ThreePointArc((23.681307256, 7.69452316), (19.233123788, 15.814453812), (12.125860838, 21.747953902))
            ThreePointArc((12.125860838, 21.747953902), (10.966572517, 25.829136401), (15.047755016, 26.988424722))
        make_face(mode=Mode.SUBTRACT)
        with BuildLine():
            ThreePointArc((19.917578645, 35.722542755), (31.591757547, 25.976351844), (38.898211516, 12.63879507))
            ThreePointArc((38.898211516, 12.63879507), (39.008106989, 12.181047482), (39.045041968, 11.711744087))
            ThreePointArc((39.045041968, 11.711744087), (36.514345363, 8.748679065), (33.191872419, 10.784693104))
            ThreePointArc((33.191872419, 10.784693104), (26.957269887, 22.165640082), (16.995684467, 30.482071936))
            ThreePointArc((16.995684467, 30.482071936), (15.836396146, 34.563254434), (19.917578645, 35.722542755))
        make_face(mode=Mode.SUBTRACT)
        with BuildLine():
            ThreePointArc((24.787402275, 44.456660789), (39.315903646, 32.327538114), (48.408776679, 15.728965014))
            ThreePointArc((48.408776679, 15.728965014), (48.518672152, 15.271217426), (48.555607131, 14.801914031))
            ThreePointArc((48.555607131, 14.801914031), (46.024910526, 11.838849009), (42.702437582, 13.874863047))
            ThreePointArc((42.702437582, 13.874863047), (34.681415986, 28.516826352), (21.865508097, 39.216189969))
            ThreePointArc((21.865508097, 39.216189969), (20.706219776, 43.297372467), (24.787402275, 44.456660789))
        make_face(mode=Mode.SUBTRACT)
    extrude(amount=BOSS_EXTRU_1_DEPTH)


with BuildPart() as body_2:
    # Esquisse3 → Boss.-Extru.2 (new body)
    with BuildSketch(Plane(origin=(0, 0, 0), x_dir=(-1, 0, 0), z_dir=(0, 0, -1))):
        Circle(ESQUISSE3_R)
        Circle(ESQUISSE3_R_2, mode=Mode.SUBTRACT)
    extrude(amount=-BOSS_EXTRU_2_DEPTH)


solid = Compound([part.part, body_2.part])
